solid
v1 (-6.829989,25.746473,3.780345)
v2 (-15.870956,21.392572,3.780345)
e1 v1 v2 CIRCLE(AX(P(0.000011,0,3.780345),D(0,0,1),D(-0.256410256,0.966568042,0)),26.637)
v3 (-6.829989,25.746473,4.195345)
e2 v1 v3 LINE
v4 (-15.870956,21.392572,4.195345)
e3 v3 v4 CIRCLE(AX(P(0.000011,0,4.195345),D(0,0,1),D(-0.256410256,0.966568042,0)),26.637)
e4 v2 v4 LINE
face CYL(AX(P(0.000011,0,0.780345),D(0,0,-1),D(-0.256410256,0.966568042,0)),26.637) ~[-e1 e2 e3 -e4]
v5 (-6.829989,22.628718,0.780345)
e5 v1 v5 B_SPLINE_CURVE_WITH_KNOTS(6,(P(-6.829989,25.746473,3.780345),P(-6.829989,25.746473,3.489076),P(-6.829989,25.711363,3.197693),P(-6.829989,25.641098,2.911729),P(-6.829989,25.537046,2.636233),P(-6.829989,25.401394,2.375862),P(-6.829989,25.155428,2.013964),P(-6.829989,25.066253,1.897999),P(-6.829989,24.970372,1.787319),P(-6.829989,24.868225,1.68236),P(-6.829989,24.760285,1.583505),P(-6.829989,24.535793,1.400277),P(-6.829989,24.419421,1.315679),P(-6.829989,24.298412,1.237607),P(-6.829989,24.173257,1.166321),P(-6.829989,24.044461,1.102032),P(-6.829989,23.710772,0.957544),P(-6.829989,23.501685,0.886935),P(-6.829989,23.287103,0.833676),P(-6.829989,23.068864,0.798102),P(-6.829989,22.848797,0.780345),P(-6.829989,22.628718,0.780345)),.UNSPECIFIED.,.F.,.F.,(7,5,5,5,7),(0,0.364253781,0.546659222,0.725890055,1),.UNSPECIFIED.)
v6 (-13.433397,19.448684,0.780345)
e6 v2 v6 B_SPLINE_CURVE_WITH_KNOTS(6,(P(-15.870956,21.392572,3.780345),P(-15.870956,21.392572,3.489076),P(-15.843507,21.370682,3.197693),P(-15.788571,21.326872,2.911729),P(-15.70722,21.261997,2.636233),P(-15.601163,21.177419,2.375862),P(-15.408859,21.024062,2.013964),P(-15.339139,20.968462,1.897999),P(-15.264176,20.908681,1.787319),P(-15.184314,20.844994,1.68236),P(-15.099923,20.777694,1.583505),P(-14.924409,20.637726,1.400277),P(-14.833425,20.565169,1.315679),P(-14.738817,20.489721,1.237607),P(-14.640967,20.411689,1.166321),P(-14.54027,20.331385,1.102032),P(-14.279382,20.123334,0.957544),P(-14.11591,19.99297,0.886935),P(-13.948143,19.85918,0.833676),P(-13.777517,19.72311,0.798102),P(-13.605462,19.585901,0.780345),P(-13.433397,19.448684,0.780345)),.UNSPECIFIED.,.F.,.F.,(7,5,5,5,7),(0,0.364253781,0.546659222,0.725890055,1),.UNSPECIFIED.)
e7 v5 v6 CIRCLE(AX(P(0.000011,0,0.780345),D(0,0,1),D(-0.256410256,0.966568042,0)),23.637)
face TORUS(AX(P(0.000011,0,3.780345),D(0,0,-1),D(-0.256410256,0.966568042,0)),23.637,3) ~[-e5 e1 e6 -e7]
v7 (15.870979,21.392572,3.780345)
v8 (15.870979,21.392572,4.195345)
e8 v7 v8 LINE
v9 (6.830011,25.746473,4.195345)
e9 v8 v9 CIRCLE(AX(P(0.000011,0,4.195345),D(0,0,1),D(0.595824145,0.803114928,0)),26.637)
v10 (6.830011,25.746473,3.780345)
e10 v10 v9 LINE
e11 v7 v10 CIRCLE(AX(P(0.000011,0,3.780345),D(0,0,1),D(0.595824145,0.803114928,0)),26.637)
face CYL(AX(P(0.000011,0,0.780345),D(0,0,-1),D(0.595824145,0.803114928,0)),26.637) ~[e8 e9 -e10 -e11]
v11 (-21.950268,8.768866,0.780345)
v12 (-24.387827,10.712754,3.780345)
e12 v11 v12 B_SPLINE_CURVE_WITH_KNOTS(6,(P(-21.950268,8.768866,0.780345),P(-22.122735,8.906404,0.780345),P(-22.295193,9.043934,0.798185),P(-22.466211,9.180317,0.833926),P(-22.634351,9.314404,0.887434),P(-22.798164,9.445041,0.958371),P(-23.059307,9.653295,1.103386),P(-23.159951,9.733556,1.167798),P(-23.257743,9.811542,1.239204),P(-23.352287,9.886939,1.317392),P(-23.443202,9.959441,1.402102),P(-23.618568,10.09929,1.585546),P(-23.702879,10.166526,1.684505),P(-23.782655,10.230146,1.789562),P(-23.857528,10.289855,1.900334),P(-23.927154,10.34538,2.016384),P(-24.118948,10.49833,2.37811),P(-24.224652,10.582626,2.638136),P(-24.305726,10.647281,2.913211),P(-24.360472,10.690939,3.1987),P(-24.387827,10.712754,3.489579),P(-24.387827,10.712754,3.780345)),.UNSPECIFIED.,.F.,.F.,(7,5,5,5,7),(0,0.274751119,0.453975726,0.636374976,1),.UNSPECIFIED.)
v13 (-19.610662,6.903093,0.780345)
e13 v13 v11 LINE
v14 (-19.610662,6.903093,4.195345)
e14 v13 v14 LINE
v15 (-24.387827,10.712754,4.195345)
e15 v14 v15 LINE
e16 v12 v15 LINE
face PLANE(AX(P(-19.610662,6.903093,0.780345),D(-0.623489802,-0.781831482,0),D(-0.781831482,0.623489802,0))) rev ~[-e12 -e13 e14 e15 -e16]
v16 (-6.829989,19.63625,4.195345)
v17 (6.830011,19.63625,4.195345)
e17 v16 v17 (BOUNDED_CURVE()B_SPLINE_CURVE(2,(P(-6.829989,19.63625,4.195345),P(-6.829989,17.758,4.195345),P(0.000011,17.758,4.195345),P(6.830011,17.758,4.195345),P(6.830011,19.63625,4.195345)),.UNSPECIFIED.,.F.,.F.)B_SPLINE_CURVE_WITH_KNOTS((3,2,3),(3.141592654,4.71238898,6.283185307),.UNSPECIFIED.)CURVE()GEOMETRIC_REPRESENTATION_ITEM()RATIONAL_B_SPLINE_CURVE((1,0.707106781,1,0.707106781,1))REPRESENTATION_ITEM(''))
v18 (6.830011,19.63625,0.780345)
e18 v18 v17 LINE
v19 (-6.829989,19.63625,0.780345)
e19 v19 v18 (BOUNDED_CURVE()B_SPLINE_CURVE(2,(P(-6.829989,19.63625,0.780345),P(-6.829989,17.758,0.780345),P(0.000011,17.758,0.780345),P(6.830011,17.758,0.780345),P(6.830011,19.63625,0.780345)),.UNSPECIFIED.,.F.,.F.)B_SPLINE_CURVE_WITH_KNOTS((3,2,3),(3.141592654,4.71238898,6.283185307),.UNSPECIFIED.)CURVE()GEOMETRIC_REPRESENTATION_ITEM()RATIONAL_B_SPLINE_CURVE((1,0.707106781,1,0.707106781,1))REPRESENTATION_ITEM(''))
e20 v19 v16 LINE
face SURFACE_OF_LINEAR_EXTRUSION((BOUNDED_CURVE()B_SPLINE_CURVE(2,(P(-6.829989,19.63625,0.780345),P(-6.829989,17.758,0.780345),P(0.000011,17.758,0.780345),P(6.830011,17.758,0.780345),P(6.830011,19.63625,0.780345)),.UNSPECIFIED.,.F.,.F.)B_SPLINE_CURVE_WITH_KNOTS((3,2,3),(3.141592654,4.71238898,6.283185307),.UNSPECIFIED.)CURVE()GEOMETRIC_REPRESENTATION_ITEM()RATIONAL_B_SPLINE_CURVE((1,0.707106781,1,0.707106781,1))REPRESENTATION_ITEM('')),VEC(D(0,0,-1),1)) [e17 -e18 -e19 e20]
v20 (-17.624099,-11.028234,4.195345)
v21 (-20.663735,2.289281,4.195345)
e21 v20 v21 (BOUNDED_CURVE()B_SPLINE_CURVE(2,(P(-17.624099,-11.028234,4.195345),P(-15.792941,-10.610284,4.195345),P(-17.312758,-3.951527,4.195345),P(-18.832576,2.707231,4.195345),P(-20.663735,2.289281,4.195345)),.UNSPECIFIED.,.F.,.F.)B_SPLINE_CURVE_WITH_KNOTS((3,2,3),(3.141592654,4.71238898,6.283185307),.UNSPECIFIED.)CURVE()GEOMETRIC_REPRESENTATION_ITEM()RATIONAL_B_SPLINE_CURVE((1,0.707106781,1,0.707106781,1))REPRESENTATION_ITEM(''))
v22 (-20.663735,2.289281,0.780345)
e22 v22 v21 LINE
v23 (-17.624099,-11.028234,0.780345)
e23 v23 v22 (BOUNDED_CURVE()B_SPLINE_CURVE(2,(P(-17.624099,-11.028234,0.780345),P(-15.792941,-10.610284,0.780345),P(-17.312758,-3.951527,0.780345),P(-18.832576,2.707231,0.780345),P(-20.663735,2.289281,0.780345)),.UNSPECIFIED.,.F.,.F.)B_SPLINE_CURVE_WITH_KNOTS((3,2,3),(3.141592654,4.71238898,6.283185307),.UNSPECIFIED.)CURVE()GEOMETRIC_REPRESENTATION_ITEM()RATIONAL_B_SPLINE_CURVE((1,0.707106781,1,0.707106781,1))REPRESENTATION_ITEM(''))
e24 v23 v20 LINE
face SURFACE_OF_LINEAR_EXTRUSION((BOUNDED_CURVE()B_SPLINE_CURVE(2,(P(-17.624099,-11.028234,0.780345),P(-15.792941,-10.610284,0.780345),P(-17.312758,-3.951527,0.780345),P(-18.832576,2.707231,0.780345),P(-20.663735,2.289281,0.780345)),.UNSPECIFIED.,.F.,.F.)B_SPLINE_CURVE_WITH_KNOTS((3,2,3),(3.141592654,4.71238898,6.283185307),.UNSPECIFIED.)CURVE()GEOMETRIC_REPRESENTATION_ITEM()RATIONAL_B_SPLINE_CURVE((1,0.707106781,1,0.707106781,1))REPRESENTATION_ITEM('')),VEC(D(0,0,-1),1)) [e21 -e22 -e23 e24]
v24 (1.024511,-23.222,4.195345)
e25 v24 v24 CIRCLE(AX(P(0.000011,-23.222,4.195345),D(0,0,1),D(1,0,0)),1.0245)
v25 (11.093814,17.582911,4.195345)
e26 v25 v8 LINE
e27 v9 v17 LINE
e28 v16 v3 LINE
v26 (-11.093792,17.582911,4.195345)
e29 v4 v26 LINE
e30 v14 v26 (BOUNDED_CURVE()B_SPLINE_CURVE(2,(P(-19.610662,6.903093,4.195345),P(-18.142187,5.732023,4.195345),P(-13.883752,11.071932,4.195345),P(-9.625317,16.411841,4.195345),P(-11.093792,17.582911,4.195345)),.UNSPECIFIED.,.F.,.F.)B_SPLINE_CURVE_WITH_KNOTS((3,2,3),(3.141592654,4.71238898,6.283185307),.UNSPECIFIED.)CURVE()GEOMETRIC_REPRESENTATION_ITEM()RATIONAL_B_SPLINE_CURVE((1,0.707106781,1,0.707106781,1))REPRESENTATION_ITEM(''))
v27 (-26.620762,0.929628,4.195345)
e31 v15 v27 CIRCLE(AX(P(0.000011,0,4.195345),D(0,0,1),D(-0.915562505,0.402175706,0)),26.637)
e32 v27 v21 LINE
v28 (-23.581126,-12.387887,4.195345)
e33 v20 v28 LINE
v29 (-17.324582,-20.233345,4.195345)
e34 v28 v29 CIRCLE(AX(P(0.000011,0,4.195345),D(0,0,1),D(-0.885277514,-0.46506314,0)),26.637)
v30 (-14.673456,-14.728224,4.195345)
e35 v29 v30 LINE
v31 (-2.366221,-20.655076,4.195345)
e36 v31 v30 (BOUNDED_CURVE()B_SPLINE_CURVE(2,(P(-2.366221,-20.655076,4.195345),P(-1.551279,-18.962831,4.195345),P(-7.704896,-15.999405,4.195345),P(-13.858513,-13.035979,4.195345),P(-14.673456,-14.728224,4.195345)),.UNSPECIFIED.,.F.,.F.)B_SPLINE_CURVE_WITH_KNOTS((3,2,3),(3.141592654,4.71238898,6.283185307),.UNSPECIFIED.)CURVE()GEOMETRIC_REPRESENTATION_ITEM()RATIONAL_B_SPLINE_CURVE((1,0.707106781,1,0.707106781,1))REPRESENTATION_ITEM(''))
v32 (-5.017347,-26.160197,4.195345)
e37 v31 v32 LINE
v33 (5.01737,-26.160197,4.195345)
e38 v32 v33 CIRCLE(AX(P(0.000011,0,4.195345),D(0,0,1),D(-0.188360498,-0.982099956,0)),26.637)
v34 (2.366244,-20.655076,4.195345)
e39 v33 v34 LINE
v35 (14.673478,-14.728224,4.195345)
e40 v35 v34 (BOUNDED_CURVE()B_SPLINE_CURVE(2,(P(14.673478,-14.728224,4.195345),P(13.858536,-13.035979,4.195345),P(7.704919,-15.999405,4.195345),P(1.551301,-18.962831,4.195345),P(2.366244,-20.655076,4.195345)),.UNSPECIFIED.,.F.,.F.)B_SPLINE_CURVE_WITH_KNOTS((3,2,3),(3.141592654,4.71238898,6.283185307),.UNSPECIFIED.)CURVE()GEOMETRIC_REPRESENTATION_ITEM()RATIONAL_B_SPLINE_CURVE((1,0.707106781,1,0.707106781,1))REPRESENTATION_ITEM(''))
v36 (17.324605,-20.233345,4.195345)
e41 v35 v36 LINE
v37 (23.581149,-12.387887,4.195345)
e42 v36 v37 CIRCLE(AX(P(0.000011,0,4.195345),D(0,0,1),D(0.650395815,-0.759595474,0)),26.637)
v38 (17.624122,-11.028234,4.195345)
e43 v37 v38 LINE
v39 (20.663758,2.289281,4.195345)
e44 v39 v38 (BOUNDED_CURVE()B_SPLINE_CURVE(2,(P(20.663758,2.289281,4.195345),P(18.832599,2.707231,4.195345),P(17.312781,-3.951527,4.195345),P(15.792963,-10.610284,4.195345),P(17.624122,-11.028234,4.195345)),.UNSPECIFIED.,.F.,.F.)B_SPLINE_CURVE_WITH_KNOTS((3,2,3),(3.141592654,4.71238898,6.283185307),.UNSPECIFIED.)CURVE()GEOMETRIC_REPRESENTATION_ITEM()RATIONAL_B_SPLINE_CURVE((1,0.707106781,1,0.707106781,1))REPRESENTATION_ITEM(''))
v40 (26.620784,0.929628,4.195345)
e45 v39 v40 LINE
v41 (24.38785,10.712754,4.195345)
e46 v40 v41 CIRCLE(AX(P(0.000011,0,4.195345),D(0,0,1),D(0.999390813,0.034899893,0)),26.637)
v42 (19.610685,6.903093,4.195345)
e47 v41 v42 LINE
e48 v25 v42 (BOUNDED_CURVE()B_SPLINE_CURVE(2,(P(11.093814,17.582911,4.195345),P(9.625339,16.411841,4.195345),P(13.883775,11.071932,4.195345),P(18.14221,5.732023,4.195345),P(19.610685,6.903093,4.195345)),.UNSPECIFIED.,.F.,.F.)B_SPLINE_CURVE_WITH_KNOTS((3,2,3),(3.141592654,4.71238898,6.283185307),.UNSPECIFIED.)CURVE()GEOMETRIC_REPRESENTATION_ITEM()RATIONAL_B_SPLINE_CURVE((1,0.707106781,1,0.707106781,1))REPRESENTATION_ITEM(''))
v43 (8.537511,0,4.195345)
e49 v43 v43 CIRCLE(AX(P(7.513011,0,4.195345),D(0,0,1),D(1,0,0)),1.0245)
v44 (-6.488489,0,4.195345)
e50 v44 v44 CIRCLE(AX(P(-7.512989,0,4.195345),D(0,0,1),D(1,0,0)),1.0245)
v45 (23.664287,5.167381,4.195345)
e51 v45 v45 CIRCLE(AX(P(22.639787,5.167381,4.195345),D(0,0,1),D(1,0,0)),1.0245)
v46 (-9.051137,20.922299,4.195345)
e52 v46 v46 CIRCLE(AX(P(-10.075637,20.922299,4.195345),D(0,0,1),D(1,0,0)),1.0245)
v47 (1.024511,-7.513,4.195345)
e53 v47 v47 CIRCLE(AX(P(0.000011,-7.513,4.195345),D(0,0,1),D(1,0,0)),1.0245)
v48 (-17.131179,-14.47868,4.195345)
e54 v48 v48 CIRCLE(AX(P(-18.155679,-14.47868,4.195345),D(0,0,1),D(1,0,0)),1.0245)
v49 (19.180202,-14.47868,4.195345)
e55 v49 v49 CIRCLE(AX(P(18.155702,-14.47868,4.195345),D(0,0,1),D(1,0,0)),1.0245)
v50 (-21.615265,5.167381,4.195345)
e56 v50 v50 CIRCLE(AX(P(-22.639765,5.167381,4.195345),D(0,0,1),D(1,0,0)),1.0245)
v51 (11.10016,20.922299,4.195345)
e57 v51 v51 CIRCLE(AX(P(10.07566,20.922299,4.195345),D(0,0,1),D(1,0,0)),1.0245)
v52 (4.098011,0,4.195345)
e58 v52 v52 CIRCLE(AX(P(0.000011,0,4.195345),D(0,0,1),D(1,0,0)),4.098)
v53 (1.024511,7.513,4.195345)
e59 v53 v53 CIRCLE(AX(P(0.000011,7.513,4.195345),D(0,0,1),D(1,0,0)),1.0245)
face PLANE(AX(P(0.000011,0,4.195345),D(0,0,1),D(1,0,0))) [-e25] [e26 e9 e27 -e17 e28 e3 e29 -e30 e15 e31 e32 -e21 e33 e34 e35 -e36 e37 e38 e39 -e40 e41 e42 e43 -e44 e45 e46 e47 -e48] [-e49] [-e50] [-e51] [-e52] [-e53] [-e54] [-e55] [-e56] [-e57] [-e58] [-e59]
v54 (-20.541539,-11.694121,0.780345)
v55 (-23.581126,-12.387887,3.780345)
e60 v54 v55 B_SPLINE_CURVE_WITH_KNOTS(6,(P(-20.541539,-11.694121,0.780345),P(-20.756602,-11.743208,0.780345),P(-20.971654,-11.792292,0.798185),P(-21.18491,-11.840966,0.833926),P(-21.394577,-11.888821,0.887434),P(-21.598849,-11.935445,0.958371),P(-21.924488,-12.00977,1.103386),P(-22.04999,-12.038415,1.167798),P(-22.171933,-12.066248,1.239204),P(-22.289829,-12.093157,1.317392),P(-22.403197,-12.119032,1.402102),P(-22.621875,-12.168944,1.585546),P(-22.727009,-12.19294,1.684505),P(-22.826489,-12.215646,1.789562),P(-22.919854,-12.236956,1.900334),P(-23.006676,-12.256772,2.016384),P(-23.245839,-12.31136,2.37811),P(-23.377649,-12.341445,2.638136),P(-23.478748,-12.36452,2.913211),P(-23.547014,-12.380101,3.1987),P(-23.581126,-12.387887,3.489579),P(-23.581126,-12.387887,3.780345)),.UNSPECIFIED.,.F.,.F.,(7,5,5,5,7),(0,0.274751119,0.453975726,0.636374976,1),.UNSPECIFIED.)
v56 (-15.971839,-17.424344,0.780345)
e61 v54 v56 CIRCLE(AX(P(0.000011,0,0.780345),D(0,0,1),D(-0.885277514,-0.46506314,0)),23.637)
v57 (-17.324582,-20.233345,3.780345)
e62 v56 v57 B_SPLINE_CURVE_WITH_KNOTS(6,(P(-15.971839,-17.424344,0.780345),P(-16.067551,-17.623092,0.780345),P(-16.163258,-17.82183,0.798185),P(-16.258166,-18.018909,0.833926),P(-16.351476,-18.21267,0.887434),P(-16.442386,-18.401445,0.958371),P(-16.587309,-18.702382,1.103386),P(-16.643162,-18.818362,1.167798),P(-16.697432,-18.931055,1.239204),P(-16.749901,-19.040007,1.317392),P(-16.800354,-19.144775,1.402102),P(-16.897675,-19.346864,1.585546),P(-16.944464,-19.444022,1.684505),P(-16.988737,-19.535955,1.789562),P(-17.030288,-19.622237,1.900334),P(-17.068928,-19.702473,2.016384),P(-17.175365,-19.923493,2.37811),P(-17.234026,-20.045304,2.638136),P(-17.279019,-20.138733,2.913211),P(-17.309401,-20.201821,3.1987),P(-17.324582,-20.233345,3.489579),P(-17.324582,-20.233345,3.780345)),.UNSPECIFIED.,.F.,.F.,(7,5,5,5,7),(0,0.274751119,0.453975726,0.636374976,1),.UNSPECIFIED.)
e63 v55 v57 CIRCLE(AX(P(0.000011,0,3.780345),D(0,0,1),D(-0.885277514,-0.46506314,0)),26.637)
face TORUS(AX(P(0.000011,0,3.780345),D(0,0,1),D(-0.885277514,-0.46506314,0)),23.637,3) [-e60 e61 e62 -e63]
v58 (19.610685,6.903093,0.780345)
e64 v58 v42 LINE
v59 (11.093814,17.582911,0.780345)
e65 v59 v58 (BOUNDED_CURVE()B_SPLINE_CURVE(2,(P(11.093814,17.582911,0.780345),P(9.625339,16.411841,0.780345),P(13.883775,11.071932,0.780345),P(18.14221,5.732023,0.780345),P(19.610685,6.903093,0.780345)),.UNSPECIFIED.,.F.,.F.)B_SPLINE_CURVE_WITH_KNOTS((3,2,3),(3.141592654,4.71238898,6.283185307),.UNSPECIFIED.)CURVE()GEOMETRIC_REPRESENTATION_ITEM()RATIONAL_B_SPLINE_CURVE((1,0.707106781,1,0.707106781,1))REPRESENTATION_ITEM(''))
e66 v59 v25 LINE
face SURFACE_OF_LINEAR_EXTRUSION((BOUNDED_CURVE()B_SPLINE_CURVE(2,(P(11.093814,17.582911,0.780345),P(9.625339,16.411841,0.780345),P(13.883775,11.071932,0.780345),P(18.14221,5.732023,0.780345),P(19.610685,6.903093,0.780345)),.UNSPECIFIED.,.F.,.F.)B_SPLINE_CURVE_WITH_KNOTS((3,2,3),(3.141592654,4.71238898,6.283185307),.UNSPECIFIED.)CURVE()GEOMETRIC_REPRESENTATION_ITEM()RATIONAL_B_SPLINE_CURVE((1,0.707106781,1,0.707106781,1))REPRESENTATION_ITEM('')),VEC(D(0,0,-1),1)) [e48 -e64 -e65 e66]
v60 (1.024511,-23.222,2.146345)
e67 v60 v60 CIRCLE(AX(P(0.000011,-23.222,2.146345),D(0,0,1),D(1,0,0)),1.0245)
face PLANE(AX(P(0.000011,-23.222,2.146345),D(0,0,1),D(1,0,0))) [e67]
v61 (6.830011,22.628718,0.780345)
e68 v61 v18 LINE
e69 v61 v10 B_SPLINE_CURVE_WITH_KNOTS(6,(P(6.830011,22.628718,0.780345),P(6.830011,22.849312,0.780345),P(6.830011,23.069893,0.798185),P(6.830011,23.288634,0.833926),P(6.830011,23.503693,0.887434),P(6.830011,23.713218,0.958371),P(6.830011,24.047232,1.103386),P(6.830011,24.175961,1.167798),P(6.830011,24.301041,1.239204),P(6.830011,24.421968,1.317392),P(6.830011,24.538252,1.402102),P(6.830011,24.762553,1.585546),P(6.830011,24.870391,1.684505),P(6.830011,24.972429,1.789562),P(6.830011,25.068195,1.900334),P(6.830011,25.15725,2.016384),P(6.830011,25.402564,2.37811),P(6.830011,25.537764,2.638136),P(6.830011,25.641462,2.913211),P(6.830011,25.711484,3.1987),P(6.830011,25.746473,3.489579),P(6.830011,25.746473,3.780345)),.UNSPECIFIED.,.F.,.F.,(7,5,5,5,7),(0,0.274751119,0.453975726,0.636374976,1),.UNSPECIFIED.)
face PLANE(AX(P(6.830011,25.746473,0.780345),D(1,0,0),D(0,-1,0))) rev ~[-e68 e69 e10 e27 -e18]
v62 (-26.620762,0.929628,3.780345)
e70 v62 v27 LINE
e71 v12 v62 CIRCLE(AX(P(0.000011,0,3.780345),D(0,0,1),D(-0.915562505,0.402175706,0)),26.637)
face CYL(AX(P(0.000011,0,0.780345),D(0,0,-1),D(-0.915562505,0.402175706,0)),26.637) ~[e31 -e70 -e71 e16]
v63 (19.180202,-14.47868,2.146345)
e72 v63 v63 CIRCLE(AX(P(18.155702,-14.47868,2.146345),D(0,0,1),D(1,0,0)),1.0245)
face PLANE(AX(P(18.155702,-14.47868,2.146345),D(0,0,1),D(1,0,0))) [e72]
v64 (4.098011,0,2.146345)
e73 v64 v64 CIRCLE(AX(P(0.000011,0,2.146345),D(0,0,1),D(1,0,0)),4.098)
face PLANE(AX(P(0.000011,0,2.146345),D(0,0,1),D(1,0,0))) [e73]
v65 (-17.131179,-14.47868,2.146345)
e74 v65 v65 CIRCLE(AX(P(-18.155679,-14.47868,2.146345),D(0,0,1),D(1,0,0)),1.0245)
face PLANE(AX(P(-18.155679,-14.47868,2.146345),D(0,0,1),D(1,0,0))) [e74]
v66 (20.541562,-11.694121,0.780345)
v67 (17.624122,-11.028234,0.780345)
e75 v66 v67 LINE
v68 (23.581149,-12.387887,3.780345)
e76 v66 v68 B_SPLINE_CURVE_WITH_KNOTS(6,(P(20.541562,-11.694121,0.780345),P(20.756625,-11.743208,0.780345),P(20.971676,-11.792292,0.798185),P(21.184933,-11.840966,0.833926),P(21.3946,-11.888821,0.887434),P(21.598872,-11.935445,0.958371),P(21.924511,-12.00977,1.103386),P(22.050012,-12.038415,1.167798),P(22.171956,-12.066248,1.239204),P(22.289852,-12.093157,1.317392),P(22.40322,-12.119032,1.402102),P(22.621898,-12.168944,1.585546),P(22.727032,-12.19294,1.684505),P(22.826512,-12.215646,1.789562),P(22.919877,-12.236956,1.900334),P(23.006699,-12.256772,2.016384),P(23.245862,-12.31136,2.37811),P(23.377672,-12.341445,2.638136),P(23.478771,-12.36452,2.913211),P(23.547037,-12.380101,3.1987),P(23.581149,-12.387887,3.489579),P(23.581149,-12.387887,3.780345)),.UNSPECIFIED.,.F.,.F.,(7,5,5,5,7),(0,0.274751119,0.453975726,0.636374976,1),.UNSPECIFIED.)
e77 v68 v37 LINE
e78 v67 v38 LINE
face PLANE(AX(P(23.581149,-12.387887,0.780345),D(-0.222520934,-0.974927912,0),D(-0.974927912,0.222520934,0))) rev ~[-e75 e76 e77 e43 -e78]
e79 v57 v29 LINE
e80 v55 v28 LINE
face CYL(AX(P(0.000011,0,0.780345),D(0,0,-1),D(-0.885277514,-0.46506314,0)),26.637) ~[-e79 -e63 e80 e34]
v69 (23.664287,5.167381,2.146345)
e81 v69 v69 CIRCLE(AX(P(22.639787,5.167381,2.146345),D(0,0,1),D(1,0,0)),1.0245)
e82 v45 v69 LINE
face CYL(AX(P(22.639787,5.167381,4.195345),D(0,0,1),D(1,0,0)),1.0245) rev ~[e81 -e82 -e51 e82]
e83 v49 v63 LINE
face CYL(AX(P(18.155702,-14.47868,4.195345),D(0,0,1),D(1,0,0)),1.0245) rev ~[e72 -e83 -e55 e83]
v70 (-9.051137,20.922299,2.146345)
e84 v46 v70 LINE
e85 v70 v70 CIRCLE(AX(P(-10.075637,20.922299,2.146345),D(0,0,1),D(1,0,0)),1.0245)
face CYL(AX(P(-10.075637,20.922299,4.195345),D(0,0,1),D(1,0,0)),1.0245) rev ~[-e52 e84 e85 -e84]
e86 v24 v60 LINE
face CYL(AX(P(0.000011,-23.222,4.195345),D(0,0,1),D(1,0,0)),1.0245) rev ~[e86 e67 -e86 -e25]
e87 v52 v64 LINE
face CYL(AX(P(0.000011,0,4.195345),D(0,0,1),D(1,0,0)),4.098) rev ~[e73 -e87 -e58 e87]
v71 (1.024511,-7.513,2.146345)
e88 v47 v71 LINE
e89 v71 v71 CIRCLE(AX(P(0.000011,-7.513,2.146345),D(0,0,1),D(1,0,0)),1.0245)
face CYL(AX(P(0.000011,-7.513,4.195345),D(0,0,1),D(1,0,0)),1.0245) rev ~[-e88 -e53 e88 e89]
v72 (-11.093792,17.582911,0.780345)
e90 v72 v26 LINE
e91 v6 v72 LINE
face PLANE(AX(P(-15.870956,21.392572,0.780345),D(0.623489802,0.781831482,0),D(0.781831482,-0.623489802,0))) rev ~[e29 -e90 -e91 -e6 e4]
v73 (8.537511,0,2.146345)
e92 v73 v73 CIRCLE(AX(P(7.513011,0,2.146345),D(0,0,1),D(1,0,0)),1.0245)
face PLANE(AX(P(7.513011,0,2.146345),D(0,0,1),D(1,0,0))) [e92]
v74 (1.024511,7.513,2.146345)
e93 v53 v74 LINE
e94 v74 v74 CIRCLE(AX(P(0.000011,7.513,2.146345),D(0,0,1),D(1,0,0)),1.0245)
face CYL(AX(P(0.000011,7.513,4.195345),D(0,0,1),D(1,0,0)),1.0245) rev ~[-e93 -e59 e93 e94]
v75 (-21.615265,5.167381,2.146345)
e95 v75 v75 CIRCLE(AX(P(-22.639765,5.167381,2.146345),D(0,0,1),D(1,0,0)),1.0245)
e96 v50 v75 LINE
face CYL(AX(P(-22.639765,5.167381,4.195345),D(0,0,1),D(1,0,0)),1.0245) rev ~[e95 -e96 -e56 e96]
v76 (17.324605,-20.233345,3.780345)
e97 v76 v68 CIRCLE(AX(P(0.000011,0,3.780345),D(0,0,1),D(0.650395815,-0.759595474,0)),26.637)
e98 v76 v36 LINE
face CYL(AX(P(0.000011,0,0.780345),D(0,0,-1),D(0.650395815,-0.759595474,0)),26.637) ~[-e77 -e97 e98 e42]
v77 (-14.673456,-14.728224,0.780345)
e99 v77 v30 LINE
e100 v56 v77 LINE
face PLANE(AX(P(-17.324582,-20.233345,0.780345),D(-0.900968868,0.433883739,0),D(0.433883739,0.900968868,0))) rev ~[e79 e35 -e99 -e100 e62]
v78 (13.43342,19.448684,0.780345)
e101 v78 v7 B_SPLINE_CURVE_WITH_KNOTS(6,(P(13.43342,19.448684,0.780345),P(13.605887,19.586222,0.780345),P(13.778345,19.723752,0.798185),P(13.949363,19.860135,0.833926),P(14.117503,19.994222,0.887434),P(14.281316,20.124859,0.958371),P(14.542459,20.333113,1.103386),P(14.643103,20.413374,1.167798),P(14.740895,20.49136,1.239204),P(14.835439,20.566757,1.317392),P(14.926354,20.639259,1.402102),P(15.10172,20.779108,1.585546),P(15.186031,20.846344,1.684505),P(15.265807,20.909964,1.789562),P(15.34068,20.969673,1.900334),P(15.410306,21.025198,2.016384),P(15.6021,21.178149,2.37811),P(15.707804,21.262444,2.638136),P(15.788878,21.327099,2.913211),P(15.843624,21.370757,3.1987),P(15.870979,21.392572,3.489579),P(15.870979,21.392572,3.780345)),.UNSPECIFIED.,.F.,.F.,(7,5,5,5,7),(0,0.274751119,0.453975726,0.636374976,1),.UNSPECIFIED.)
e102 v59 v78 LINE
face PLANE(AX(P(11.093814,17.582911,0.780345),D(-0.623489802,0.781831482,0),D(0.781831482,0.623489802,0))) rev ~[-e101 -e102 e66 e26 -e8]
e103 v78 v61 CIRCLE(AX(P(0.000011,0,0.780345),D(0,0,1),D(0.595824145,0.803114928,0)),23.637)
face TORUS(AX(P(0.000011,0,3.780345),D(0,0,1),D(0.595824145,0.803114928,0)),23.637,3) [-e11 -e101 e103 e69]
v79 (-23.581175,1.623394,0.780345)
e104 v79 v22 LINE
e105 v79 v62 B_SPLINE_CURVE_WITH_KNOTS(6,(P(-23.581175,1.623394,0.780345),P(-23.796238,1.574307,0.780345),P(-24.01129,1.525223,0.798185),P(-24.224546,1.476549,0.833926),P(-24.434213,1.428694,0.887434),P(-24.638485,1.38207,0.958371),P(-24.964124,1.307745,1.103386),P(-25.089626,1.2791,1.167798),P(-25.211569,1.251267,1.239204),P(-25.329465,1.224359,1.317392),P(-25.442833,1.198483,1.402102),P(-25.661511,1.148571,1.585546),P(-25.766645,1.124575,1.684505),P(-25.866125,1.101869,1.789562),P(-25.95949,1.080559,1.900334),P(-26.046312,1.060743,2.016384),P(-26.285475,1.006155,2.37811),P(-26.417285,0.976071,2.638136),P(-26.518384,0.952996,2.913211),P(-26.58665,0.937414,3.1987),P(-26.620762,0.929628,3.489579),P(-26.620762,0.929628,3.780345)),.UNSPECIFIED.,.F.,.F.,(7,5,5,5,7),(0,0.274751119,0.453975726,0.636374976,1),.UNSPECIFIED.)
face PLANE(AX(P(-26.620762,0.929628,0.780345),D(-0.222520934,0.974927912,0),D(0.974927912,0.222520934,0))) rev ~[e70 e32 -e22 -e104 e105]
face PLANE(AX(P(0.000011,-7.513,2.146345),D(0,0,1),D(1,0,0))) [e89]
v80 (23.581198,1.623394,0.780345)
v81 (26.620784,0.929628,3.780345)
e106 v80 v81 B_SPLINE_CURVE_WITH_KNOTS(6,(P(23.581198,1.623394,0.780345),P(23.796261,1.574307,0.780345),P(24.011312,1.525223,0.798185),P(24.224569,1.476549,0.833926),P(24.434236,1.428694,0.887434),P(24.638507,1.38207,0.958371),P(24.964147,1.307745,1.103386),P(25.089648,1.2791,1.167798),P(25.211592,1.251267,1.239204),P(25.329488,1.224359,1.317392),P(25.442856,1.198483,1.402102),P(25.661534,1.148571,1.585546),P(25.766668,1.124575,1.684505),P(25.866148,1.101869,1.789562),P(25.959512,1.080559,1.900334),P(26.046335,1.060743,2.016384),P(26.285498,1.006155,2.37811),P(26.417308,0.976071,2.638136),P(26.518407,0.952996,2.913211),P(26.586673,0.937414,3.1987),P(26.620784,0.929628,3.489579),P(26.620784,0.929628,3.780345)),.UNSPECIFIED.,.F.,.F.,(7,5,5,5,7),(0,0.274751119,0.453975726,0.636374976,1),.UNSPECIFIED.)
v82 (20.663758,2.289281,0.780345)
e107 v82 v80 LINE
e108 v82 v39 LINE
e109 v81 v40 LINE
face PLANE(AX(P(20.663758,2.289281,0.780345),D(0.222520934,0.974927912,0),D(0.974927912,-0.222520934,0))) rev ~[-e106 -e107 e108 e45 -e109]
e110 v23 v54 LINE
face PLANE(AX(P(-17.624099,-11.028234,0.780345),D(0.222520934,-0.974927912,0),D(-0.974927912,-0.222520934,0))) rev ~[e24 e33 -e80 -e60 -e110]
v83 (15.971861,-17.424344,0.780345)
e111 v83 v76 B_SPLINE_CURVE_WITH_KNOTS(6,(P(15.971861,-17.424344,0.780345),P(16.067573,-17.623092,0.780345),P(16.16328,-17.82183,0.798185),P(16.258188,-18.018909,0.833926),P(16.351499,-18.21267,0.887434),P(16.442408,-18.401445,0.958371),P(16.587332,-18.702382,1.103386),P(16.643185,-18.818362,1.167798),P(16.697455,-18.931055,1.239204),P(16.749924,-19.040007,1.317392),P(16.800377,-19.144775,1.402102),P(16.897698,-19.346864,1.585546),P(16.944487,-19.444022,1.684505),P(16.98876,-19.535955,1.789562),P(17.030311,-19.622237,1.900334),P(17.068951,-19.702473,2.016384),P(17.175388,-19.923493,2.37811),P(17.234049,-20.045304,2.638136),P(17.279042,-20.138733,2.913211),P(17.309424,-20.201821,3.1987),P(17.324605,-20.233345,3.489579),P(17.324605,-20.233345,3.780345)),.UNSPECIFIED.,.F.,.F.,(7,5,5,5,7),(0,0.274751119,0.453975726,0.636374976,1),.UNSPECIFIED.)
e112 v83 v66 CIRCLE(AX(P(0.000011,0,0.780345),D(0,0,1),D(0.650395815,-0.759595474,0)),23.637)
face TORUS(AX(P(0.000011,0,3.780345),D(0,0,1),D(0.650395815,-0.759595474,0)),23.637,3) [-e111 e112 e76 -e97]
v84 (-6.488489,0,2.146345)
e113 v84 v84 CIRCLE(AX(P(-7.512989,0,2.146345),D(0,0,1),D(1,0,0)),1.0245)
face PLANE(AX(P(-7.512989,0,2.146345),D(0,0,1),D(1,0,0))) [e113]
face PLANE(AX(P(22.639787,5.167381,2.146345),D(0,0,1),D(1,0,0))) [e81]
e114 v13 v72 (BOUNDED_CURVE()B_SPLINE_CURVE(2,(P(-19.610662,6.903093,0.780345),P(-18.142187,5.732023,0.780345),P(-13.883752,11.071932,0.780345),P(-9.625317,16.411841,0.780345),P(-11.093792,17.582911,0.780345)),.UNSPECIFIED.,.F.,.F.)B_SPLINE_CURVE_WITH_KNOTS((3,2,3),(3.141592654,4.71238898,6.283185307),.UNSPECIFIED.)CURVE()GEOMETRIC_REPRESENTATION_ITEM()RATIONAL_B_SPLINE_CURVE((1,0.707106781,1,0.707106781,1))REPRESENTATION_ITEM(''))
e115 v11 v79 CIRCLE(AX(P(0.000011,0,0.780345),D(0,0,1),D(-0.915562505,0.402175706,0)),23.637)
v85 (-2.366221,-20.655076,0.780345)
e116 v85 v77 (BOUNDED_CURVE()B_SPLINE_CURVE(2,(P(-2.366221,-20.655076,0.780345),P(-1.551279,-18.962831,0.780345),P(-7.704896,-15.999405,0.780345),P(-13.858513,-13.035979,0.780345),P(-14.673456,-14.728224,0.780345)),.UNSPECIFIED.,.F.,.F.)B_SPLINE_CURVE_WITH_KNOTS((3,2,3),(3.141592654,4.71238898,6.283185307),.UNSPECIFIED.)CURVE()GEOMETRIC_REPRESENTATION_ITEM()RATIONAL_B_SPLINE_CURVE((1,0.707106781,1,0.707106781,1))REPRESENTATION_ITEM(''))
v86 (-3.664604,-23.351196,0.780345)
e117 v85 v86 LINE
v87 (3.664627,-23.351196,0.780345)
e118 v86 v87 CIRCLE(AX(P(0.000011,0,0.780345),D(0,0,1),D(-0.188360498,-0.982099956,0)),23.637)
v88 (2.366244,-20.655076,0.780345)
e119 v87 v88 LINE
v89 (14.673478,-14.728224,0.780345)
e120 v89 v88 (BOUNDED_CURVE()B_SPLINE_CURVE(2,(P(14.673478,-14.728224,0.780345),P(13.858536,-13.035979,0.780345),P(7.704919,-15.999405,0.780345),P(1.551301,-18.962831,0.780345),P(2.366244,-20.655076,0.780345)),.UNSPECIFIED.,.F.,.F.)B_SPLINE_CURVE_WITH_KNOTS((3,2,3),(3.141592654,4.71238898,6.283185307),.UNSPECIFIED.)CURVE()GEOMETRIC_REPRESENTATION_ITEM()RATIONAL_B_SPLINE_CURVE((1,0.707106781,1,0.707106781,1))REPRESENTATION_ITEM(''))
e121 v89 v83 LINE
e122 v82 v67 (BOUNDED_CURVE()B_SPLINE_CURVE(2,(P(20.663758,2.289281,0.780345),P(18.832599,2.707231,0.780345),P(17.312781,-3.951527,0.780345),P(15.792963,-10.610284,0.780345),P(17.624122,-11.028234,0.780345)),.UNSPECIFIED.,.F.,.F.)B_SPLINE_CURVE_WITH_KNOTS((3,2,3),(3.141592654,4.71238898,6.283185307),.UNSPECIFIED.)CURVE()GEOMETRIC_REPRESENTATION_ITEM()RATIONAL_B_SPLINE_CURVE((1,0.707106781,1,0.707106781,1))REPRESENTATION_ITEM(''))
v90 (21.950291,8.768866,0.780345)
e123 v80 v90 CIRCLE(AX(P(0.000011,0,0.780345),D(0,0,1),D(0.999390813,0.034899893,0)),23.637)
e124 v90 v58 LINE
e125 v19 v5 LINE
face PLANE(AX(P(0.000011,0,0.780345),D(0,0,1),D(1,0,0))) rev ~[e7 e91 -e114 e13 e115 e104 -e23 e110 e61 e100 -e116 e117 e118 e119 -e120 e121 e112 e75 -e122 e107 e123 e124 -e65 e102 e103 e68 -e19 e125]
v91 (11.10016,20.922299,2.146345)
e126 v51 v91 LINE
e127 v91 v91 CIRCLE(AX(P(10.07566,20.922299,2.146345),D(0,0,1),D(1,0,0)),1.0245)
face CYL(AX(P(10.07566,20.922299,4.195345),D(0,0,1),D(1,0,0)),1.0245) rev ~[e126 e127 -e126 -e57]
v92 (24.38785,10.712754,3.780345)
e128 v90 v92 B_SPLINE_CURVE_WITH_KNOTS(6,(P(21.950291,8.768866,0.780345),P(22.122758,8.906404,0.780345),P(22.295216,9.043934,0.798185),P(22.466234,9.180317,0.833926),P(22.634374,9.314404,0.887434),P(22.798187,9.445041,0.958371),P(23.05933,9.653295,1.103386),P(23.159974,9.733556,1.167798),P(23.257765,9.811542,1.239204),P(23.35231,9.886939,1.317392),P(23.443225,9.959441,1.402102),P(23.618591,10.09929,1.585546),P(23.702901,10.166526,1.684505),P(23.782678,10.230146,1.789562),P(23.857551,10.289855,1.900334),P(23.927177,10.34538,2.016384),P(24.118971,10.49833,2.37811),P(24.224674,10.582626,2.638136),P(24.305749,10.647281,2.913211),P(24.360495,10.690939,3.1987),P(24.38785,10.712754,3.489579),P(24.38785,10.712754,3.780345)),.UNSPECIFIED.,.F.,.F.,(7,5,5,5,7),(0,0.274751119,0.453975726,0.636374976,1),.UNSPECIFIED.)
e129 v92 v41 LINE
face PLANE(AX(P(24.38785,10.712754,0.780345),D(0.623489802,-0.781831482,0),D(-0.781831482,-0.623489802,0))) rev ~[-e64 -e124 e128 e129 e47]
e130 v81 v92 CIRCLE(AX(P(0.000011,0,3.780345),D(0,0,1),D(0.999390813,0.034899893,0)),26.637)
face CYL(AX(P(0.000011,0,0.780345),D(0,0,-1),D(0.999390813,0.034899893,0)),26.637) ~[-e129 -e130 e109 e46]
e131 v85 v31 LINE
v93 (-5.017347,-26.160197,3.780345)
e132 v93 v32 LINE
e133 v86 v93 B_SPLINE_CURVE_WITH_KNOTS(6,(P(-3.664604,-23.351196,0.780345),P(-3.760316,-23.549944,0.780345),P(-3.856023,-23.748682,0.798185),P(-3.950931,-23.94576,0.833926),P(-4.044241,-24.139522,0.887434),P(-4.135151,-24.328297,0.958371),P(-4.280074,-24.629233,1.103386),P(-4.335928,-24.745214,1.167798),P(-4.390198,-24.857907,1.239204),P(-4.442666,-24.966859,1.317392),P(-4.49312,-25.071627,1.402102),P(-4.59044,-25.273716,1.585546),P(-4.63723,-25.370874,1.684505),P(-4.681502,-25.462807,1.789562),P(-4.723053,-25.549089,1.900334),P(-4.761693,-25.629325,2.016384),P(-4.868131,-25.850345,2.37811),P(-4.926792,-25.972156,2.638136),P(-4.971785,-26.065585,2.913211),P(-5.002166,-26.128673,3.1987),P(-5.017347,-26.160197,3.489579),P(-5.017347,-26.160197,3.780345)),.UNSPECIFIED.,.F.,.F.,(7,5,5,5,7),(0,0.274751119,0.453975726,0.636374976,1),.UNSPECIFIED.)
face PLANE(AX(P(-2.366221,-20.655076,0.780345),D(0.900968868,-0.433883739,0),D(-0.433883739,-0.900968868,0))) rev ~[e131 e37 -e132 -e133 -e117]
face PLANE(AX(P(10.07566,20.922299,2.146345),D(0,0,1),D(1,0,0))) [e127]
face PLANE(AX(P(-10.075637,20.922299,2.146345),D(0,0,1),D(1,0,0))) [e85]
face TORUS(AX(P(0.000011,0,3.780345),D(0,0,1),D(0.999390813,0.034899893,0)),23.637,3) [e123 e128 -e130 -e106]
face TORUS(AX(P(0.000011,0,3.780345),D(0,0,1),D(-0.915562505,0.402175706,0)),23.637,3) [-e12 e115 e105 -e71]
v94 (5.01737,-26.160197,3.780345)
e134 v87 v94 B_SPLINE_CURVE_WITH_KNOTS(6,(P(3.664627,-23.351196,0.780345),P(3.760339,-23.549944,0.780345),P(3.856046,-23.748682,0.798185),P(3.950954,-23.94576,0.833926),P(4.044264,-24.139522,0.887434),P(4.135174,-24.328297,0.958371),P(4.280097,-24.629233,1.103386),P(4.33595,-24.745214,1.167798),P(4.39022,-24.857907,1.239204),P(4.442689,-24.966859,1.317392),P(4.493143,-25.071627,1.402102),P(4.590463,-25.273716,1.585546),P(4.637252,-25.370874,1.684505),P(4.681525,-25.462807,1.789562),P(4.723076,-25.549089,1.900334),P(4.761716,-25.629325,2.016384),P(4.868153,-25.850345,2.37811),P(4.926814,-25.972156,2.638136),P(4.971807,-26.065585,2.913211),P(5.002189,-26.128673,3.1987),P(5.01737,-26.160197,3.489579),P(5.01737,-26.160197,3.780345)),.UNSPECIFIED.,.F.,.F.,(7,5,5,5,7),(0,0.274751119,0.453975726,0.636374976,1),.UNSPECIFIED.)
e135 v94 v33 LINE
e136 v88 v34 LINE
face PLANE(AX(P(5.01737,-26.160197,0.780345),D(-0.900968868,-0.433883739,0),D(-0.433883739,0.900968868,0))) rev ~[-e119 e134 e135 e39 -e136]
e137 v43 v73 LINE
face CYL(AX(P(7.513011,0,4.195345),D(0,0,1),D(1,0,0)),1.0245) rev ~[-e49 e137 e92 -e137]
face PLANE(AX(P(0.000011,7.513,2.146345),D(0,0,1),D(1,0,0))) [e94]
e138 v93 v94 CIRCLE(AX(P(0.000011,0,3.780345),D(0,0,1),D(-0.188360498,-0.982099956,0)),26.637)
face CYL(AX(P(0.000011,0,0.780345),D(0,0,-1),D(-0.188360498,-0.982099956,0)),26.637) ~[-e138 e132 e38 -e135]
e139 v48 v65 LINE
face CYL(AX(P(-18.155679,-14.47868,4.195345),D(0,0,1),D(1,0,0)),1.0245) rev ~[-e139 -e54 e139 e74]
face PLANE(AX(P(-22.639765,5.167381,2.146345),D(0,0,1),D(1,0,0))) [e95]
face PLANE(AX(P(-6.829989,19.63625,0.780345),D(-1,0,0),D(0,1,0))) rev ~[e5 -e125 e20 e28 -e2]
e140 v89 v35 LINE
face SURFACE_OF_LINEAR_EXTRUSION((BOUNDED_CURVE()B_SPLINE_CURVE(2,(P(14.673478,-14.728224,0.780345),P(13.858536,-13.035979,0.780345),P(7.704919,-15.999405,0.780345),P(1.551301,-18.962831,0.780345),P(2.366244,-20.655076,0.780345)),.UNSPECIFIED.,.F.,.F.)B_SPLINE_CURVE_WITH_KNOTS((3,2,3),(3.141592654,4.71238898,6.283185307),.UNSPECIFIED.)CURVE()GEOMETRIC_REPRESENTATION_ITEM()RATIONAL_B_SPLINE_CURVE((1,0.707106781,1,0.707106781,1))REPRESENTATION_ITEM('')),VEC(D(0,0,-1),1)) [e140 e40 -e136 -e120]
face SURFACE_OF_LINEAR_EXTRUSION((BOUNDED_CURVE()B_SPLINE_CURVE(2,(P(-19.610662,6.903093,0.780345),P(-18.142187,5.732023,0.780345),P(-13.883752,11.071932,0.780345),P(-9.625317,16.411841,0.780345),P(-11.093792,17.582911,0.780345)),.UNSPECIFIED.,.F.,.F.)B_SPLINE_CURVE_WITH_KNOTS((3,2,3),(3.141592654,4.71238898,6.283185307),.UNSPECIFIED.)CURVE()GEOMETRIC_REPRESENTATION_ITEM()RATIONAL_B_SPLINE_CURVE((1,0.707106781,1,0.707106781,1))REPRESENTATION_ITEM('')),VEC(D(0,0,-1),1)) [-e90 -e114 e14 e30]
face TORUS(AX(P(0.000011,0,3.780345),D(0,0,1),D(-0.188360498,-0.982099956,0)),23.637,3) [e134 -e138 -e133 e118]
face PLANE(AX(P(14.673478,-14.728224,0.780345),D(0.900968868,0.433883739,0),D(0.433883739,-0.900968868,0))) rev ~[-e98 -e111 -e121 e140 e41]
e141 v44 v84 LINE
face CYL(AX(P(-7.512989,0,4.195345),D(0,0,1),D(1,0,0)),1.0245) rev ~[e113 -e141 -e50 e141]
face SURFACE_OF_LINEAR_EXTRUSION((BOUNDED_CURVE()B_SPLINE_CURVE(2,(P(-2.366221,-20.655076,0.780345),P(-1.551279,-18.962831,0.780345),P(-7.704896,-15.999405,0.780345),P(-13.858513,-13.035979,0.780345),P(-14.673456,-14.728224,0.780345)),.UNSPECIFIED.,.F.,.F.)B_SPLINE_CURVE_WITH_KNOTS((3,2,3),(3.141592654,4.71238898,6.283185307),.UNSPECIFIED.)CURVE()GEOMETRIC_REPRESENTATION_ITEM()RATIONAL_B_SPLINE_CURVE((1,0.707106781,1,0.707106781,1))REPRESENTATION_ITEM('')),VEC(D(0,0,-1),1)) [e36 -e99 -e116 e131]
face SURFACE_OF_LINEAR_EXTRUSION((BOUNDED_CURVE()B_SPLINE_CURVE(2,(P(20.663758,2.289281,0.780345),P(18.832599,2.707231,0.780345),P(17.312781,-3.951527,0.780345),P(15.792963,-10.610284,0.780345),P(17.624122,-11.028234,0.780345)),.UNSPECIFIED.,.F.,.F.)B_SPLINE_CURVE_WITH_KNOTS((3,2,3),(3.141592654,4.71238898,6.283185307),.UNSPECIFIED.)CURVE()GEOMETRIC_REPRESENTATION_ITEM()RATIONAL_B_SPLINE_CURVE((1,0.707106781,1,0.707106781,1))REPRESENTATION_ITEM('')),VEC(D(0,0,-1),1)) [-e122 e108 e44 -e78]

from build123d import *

# Parameters (mm, degrees)
EXTRUDE_2_DEPTH     = 5
SKETCH_3_R          = 1.5
SKETCH_3_R_2        = 6
CUT_EXTRUDE_2_DEPTH = 3
SCALE_1_SCALE       = 0.683
FILLET_2_R          = 3


with BuildPart() as part:
    # 草图1 → 凸台-拉伸2 (new body)
    with BuildSketch(Plane.XY):
        with BuildLine():
            Line((-10, 28.75), (-10, 37.69615365))
            ThreePointArc((-10, 37.69615365), (-16.921465826, 35.137785848), (-23.237141673, 31.321482195))
            Line((-23.237141673, 31.321482195), (-16.242757102, 25.743646628))
            add(Edge.make_bspline(
                [(-28.71255314, 10.107016979), (-26.562516563, 8.392420024), (-20.327618544, 16.210734848), (-14.092720526, 24.029049673), (-16.242757102, 25.743646628)],
                knots=[3.141592654, 3.141592654, 3.141592654, 4.71238898, 4.71238898, 6.283185307, 6.283185307, 6.283185307], degree=2, weights=[1, 0.707106781, 1, 0.707106781, 1]))
            Line((-28.71255314, 10.107016979), (-35.70693771, 15.684852545))
            ThreePointArc((-35.70693771, 15.684852545), (-38.022188575, 8.678316424), (-38.976241715, 1.361095805))
            Line((-38.976241715, 1.361095805), (-30.254386815, 3.351802271))
            add(Edge.make_bspline(
                [(-25.803968136, -16.146755973), (-23.122916377, -15.534823405), (-25.348125717, -5.785544283), (-27.573335056, 3.963734839), (-30.254386815, 3.351802271)],
                knots=[3.141592654, 3.141592654, 3.141592654, 4.71238898, 4.71238898, 6.283185307, 6.283185307, 6.283185307], degree=2, weights=[1, 0.707106781, 1, 0.707106781, 1]))
            Line((-25.803968136, -16.146755973), (-34.525823036, -18.137462439))
            ThreePointArc((-34.525823036, -18.137462439), (-30.491427816, -24.316102272), (-25.365436775, -29.624223487))
            Line((-25.365436775, -29.624223487), (-21.483846179, -21.564017561))
            add(Edge.make_bspline(
                [(-3.464468821, -30.241692343), (-2.271288538, -27.764027957), (-11.280977217, -23.425190565), (-20.290665896, -19.086353174), (-21.483846179, -21.564017561)],
                knots=[3.141592654, 3.141592654, 3.141592654, 4.71238898, 4.71238898, 6.283185307, 6.283185307, 6.283185307], degree=2, weights=[1, 0.707106781, 1, 0.707106781, 1]))
            Line((-3.464468821, -30.241692343), (-7.346059417, -38.301898269))
            ThreePointArc((-7.346059417, -38.301898269), (0, -39), (7.346059417, -38.301898269))
            Line((7.346059417, -38.301898269), (3.464468821, -30.241692343))
            add(Edge.make_bspline(
                [(21.483846179, -21.564017561), (20.290665896, -19.086353174), (11.280977217, -23.425190565), (2.271288538, -27.764027957), (3.464468821, -30.241692343)],
                knots=[3.141592654, 3.141592654, 3.141592654, 4.71238898, 4.71238898, 6.283185307, 6.283185307, 6.283185307], degree=2, weights=[1, 0.707106781, 1, 0.707106781, 1]))
            Line((21.483846179, -21.564017561), (25.365436775, -29.624223487))
            ThreePointArc((25.365436775, -29.624223487), (30.491427816, -24.316102272), (34.525823036, -18.137462439))
            Line((34.525823036, -18.137462439), (25.803968136, -16.146755973))
            add(Edge.make_bspline(
                [(30.254386815, 3.351802271), (27.573335056, 3.963734839), (25.348125717, -5.785544283), (23.122916377, -15.534823405), (25.803968136, -16.146755973)],
                knots=[3.141592654, 3.141592654, 3.141592654, 4.71238898, 4.71238898, 6.283185307, 6.283185307, 6.283185307], degree=2, weights=[1, 0.707106781, 1, 0.707106781, 1]))
            Line((30.254386815, 3.351802271), (38.976241715, 1.361095805))
            ThreePointArc((38.976241715, 1.361095805), (38.022188575, 8.678316424), (35.70693771, 15.684852545))
            Line((35.70693771, 15.684852545), (28.71255314, 10.107016979))
            add(Edge.make_bspline(
                [(16.242757102, 25.743646628), (14.092720526, 24.029049673), (20.327618544, 16.210734848), (26.562516563, 8.392420024), (28.71255314, 10.107016979)],
                knots=[3.141592654, 3.141592654, 3.141592654, 4.71238898, 4.71238898, 6.283185307, 6.283185307, 6.283185307], degree=2, weights=[1, 0.707106781, 1, 0.707106781, 1]))
            Line((16.242757102, 25.743646628), (23.237141673, 31.321482195))
            ThreePointArc((23.237141673, 31.321482195), (16.921465826, 35.137785848), (10, 37.69615365))
            Line((10, 37.69615365), (10, 28.75))
            add(Edge.make_bspline(
                [(-10, 28.75), (-10, 26), (0, 26), (10, 26), (10, 28.75)],
                knots=[3.141592654, 3.141592654, 3.141592654, 4.71238898, 4.71238898, 6.283185307, 6.283185307, 6.283185307], degree=2, weights=[1, 0.707106781, 1, 0.707106781, 1]))
        make_face()
    extrude(amount=EXTRUDE_2_DEPTH)

    # 草图3 → 切除-拉伸2 (cut)
    with BuildSketch(Plane.XY.offset(5)):
        with Locations((0, 11)):
            Circle(SKETCH_3_R)
        with Locations((11, 0)):
            Circle(SKETCH_3_R)
        with Locations((0, -11)):
            Circle(SKETCH_3_R)
        with Locations((-11, 0)):
            Circle(SKETCH_3_R)
        Circle(SKETCH_3_R_2)
        with Locations((14.75204713, 30.632941509)):
            Circle(SKETCH_3_R)
        with Locations((33.147549014, 7.565711755)):
            Circle(SKETCH_3_R)
        with Locations((26.582270404, -21.198653263)):
            Circle(SKETCH_3_R)
        with Locations((0, -34)):
            Circle(SKETCH_3_R)
        with Locations((-26.582270404, -21.198653263)):
            Circle(SKETCH_3_R)
        with Locations((-33.147549014, 7.565711755)):
            Circle(SKETCH_3_R)
        with Locations((-14.75204713, 30.632941509)):
            Circle(SKETCH_3_R)
    extrude(amount=-CUT_EXTRUDE_2_DEPTH, mode=Mode.SUBTRACT)


with BuildPart() as part_1:
    # 缩放比例1: scaled about (3.5878e-05, 0, 2.461657496)
    add(part.part.scale(SCALE_1_SCALE).moved(Location((1.1373e-05, 0, 0.780345426))))

    # 圆角2
    fillet_2_edges = [part_1.edges().sort_by_distance(p)[0] for p in [
        (11.557372532, 23.999107734, 0.780345426),
        (25.96916617, 5.927290118, 0.780345426),
        (20.825656572, -16.607897852, 0.780345426),
        (1.1373e-05, -26.637, 0.780345426),
        (-20.825633825, -16.607897852, 0.780345426),
        (-25.969143423, 5.927290118, 0.780345426),
        (-11.557349786, 23.999107734, 0.780345426),
    ]]
    fillet(fillet_2_edges, radius=FILLET_2_R)


solid = part_1.part
